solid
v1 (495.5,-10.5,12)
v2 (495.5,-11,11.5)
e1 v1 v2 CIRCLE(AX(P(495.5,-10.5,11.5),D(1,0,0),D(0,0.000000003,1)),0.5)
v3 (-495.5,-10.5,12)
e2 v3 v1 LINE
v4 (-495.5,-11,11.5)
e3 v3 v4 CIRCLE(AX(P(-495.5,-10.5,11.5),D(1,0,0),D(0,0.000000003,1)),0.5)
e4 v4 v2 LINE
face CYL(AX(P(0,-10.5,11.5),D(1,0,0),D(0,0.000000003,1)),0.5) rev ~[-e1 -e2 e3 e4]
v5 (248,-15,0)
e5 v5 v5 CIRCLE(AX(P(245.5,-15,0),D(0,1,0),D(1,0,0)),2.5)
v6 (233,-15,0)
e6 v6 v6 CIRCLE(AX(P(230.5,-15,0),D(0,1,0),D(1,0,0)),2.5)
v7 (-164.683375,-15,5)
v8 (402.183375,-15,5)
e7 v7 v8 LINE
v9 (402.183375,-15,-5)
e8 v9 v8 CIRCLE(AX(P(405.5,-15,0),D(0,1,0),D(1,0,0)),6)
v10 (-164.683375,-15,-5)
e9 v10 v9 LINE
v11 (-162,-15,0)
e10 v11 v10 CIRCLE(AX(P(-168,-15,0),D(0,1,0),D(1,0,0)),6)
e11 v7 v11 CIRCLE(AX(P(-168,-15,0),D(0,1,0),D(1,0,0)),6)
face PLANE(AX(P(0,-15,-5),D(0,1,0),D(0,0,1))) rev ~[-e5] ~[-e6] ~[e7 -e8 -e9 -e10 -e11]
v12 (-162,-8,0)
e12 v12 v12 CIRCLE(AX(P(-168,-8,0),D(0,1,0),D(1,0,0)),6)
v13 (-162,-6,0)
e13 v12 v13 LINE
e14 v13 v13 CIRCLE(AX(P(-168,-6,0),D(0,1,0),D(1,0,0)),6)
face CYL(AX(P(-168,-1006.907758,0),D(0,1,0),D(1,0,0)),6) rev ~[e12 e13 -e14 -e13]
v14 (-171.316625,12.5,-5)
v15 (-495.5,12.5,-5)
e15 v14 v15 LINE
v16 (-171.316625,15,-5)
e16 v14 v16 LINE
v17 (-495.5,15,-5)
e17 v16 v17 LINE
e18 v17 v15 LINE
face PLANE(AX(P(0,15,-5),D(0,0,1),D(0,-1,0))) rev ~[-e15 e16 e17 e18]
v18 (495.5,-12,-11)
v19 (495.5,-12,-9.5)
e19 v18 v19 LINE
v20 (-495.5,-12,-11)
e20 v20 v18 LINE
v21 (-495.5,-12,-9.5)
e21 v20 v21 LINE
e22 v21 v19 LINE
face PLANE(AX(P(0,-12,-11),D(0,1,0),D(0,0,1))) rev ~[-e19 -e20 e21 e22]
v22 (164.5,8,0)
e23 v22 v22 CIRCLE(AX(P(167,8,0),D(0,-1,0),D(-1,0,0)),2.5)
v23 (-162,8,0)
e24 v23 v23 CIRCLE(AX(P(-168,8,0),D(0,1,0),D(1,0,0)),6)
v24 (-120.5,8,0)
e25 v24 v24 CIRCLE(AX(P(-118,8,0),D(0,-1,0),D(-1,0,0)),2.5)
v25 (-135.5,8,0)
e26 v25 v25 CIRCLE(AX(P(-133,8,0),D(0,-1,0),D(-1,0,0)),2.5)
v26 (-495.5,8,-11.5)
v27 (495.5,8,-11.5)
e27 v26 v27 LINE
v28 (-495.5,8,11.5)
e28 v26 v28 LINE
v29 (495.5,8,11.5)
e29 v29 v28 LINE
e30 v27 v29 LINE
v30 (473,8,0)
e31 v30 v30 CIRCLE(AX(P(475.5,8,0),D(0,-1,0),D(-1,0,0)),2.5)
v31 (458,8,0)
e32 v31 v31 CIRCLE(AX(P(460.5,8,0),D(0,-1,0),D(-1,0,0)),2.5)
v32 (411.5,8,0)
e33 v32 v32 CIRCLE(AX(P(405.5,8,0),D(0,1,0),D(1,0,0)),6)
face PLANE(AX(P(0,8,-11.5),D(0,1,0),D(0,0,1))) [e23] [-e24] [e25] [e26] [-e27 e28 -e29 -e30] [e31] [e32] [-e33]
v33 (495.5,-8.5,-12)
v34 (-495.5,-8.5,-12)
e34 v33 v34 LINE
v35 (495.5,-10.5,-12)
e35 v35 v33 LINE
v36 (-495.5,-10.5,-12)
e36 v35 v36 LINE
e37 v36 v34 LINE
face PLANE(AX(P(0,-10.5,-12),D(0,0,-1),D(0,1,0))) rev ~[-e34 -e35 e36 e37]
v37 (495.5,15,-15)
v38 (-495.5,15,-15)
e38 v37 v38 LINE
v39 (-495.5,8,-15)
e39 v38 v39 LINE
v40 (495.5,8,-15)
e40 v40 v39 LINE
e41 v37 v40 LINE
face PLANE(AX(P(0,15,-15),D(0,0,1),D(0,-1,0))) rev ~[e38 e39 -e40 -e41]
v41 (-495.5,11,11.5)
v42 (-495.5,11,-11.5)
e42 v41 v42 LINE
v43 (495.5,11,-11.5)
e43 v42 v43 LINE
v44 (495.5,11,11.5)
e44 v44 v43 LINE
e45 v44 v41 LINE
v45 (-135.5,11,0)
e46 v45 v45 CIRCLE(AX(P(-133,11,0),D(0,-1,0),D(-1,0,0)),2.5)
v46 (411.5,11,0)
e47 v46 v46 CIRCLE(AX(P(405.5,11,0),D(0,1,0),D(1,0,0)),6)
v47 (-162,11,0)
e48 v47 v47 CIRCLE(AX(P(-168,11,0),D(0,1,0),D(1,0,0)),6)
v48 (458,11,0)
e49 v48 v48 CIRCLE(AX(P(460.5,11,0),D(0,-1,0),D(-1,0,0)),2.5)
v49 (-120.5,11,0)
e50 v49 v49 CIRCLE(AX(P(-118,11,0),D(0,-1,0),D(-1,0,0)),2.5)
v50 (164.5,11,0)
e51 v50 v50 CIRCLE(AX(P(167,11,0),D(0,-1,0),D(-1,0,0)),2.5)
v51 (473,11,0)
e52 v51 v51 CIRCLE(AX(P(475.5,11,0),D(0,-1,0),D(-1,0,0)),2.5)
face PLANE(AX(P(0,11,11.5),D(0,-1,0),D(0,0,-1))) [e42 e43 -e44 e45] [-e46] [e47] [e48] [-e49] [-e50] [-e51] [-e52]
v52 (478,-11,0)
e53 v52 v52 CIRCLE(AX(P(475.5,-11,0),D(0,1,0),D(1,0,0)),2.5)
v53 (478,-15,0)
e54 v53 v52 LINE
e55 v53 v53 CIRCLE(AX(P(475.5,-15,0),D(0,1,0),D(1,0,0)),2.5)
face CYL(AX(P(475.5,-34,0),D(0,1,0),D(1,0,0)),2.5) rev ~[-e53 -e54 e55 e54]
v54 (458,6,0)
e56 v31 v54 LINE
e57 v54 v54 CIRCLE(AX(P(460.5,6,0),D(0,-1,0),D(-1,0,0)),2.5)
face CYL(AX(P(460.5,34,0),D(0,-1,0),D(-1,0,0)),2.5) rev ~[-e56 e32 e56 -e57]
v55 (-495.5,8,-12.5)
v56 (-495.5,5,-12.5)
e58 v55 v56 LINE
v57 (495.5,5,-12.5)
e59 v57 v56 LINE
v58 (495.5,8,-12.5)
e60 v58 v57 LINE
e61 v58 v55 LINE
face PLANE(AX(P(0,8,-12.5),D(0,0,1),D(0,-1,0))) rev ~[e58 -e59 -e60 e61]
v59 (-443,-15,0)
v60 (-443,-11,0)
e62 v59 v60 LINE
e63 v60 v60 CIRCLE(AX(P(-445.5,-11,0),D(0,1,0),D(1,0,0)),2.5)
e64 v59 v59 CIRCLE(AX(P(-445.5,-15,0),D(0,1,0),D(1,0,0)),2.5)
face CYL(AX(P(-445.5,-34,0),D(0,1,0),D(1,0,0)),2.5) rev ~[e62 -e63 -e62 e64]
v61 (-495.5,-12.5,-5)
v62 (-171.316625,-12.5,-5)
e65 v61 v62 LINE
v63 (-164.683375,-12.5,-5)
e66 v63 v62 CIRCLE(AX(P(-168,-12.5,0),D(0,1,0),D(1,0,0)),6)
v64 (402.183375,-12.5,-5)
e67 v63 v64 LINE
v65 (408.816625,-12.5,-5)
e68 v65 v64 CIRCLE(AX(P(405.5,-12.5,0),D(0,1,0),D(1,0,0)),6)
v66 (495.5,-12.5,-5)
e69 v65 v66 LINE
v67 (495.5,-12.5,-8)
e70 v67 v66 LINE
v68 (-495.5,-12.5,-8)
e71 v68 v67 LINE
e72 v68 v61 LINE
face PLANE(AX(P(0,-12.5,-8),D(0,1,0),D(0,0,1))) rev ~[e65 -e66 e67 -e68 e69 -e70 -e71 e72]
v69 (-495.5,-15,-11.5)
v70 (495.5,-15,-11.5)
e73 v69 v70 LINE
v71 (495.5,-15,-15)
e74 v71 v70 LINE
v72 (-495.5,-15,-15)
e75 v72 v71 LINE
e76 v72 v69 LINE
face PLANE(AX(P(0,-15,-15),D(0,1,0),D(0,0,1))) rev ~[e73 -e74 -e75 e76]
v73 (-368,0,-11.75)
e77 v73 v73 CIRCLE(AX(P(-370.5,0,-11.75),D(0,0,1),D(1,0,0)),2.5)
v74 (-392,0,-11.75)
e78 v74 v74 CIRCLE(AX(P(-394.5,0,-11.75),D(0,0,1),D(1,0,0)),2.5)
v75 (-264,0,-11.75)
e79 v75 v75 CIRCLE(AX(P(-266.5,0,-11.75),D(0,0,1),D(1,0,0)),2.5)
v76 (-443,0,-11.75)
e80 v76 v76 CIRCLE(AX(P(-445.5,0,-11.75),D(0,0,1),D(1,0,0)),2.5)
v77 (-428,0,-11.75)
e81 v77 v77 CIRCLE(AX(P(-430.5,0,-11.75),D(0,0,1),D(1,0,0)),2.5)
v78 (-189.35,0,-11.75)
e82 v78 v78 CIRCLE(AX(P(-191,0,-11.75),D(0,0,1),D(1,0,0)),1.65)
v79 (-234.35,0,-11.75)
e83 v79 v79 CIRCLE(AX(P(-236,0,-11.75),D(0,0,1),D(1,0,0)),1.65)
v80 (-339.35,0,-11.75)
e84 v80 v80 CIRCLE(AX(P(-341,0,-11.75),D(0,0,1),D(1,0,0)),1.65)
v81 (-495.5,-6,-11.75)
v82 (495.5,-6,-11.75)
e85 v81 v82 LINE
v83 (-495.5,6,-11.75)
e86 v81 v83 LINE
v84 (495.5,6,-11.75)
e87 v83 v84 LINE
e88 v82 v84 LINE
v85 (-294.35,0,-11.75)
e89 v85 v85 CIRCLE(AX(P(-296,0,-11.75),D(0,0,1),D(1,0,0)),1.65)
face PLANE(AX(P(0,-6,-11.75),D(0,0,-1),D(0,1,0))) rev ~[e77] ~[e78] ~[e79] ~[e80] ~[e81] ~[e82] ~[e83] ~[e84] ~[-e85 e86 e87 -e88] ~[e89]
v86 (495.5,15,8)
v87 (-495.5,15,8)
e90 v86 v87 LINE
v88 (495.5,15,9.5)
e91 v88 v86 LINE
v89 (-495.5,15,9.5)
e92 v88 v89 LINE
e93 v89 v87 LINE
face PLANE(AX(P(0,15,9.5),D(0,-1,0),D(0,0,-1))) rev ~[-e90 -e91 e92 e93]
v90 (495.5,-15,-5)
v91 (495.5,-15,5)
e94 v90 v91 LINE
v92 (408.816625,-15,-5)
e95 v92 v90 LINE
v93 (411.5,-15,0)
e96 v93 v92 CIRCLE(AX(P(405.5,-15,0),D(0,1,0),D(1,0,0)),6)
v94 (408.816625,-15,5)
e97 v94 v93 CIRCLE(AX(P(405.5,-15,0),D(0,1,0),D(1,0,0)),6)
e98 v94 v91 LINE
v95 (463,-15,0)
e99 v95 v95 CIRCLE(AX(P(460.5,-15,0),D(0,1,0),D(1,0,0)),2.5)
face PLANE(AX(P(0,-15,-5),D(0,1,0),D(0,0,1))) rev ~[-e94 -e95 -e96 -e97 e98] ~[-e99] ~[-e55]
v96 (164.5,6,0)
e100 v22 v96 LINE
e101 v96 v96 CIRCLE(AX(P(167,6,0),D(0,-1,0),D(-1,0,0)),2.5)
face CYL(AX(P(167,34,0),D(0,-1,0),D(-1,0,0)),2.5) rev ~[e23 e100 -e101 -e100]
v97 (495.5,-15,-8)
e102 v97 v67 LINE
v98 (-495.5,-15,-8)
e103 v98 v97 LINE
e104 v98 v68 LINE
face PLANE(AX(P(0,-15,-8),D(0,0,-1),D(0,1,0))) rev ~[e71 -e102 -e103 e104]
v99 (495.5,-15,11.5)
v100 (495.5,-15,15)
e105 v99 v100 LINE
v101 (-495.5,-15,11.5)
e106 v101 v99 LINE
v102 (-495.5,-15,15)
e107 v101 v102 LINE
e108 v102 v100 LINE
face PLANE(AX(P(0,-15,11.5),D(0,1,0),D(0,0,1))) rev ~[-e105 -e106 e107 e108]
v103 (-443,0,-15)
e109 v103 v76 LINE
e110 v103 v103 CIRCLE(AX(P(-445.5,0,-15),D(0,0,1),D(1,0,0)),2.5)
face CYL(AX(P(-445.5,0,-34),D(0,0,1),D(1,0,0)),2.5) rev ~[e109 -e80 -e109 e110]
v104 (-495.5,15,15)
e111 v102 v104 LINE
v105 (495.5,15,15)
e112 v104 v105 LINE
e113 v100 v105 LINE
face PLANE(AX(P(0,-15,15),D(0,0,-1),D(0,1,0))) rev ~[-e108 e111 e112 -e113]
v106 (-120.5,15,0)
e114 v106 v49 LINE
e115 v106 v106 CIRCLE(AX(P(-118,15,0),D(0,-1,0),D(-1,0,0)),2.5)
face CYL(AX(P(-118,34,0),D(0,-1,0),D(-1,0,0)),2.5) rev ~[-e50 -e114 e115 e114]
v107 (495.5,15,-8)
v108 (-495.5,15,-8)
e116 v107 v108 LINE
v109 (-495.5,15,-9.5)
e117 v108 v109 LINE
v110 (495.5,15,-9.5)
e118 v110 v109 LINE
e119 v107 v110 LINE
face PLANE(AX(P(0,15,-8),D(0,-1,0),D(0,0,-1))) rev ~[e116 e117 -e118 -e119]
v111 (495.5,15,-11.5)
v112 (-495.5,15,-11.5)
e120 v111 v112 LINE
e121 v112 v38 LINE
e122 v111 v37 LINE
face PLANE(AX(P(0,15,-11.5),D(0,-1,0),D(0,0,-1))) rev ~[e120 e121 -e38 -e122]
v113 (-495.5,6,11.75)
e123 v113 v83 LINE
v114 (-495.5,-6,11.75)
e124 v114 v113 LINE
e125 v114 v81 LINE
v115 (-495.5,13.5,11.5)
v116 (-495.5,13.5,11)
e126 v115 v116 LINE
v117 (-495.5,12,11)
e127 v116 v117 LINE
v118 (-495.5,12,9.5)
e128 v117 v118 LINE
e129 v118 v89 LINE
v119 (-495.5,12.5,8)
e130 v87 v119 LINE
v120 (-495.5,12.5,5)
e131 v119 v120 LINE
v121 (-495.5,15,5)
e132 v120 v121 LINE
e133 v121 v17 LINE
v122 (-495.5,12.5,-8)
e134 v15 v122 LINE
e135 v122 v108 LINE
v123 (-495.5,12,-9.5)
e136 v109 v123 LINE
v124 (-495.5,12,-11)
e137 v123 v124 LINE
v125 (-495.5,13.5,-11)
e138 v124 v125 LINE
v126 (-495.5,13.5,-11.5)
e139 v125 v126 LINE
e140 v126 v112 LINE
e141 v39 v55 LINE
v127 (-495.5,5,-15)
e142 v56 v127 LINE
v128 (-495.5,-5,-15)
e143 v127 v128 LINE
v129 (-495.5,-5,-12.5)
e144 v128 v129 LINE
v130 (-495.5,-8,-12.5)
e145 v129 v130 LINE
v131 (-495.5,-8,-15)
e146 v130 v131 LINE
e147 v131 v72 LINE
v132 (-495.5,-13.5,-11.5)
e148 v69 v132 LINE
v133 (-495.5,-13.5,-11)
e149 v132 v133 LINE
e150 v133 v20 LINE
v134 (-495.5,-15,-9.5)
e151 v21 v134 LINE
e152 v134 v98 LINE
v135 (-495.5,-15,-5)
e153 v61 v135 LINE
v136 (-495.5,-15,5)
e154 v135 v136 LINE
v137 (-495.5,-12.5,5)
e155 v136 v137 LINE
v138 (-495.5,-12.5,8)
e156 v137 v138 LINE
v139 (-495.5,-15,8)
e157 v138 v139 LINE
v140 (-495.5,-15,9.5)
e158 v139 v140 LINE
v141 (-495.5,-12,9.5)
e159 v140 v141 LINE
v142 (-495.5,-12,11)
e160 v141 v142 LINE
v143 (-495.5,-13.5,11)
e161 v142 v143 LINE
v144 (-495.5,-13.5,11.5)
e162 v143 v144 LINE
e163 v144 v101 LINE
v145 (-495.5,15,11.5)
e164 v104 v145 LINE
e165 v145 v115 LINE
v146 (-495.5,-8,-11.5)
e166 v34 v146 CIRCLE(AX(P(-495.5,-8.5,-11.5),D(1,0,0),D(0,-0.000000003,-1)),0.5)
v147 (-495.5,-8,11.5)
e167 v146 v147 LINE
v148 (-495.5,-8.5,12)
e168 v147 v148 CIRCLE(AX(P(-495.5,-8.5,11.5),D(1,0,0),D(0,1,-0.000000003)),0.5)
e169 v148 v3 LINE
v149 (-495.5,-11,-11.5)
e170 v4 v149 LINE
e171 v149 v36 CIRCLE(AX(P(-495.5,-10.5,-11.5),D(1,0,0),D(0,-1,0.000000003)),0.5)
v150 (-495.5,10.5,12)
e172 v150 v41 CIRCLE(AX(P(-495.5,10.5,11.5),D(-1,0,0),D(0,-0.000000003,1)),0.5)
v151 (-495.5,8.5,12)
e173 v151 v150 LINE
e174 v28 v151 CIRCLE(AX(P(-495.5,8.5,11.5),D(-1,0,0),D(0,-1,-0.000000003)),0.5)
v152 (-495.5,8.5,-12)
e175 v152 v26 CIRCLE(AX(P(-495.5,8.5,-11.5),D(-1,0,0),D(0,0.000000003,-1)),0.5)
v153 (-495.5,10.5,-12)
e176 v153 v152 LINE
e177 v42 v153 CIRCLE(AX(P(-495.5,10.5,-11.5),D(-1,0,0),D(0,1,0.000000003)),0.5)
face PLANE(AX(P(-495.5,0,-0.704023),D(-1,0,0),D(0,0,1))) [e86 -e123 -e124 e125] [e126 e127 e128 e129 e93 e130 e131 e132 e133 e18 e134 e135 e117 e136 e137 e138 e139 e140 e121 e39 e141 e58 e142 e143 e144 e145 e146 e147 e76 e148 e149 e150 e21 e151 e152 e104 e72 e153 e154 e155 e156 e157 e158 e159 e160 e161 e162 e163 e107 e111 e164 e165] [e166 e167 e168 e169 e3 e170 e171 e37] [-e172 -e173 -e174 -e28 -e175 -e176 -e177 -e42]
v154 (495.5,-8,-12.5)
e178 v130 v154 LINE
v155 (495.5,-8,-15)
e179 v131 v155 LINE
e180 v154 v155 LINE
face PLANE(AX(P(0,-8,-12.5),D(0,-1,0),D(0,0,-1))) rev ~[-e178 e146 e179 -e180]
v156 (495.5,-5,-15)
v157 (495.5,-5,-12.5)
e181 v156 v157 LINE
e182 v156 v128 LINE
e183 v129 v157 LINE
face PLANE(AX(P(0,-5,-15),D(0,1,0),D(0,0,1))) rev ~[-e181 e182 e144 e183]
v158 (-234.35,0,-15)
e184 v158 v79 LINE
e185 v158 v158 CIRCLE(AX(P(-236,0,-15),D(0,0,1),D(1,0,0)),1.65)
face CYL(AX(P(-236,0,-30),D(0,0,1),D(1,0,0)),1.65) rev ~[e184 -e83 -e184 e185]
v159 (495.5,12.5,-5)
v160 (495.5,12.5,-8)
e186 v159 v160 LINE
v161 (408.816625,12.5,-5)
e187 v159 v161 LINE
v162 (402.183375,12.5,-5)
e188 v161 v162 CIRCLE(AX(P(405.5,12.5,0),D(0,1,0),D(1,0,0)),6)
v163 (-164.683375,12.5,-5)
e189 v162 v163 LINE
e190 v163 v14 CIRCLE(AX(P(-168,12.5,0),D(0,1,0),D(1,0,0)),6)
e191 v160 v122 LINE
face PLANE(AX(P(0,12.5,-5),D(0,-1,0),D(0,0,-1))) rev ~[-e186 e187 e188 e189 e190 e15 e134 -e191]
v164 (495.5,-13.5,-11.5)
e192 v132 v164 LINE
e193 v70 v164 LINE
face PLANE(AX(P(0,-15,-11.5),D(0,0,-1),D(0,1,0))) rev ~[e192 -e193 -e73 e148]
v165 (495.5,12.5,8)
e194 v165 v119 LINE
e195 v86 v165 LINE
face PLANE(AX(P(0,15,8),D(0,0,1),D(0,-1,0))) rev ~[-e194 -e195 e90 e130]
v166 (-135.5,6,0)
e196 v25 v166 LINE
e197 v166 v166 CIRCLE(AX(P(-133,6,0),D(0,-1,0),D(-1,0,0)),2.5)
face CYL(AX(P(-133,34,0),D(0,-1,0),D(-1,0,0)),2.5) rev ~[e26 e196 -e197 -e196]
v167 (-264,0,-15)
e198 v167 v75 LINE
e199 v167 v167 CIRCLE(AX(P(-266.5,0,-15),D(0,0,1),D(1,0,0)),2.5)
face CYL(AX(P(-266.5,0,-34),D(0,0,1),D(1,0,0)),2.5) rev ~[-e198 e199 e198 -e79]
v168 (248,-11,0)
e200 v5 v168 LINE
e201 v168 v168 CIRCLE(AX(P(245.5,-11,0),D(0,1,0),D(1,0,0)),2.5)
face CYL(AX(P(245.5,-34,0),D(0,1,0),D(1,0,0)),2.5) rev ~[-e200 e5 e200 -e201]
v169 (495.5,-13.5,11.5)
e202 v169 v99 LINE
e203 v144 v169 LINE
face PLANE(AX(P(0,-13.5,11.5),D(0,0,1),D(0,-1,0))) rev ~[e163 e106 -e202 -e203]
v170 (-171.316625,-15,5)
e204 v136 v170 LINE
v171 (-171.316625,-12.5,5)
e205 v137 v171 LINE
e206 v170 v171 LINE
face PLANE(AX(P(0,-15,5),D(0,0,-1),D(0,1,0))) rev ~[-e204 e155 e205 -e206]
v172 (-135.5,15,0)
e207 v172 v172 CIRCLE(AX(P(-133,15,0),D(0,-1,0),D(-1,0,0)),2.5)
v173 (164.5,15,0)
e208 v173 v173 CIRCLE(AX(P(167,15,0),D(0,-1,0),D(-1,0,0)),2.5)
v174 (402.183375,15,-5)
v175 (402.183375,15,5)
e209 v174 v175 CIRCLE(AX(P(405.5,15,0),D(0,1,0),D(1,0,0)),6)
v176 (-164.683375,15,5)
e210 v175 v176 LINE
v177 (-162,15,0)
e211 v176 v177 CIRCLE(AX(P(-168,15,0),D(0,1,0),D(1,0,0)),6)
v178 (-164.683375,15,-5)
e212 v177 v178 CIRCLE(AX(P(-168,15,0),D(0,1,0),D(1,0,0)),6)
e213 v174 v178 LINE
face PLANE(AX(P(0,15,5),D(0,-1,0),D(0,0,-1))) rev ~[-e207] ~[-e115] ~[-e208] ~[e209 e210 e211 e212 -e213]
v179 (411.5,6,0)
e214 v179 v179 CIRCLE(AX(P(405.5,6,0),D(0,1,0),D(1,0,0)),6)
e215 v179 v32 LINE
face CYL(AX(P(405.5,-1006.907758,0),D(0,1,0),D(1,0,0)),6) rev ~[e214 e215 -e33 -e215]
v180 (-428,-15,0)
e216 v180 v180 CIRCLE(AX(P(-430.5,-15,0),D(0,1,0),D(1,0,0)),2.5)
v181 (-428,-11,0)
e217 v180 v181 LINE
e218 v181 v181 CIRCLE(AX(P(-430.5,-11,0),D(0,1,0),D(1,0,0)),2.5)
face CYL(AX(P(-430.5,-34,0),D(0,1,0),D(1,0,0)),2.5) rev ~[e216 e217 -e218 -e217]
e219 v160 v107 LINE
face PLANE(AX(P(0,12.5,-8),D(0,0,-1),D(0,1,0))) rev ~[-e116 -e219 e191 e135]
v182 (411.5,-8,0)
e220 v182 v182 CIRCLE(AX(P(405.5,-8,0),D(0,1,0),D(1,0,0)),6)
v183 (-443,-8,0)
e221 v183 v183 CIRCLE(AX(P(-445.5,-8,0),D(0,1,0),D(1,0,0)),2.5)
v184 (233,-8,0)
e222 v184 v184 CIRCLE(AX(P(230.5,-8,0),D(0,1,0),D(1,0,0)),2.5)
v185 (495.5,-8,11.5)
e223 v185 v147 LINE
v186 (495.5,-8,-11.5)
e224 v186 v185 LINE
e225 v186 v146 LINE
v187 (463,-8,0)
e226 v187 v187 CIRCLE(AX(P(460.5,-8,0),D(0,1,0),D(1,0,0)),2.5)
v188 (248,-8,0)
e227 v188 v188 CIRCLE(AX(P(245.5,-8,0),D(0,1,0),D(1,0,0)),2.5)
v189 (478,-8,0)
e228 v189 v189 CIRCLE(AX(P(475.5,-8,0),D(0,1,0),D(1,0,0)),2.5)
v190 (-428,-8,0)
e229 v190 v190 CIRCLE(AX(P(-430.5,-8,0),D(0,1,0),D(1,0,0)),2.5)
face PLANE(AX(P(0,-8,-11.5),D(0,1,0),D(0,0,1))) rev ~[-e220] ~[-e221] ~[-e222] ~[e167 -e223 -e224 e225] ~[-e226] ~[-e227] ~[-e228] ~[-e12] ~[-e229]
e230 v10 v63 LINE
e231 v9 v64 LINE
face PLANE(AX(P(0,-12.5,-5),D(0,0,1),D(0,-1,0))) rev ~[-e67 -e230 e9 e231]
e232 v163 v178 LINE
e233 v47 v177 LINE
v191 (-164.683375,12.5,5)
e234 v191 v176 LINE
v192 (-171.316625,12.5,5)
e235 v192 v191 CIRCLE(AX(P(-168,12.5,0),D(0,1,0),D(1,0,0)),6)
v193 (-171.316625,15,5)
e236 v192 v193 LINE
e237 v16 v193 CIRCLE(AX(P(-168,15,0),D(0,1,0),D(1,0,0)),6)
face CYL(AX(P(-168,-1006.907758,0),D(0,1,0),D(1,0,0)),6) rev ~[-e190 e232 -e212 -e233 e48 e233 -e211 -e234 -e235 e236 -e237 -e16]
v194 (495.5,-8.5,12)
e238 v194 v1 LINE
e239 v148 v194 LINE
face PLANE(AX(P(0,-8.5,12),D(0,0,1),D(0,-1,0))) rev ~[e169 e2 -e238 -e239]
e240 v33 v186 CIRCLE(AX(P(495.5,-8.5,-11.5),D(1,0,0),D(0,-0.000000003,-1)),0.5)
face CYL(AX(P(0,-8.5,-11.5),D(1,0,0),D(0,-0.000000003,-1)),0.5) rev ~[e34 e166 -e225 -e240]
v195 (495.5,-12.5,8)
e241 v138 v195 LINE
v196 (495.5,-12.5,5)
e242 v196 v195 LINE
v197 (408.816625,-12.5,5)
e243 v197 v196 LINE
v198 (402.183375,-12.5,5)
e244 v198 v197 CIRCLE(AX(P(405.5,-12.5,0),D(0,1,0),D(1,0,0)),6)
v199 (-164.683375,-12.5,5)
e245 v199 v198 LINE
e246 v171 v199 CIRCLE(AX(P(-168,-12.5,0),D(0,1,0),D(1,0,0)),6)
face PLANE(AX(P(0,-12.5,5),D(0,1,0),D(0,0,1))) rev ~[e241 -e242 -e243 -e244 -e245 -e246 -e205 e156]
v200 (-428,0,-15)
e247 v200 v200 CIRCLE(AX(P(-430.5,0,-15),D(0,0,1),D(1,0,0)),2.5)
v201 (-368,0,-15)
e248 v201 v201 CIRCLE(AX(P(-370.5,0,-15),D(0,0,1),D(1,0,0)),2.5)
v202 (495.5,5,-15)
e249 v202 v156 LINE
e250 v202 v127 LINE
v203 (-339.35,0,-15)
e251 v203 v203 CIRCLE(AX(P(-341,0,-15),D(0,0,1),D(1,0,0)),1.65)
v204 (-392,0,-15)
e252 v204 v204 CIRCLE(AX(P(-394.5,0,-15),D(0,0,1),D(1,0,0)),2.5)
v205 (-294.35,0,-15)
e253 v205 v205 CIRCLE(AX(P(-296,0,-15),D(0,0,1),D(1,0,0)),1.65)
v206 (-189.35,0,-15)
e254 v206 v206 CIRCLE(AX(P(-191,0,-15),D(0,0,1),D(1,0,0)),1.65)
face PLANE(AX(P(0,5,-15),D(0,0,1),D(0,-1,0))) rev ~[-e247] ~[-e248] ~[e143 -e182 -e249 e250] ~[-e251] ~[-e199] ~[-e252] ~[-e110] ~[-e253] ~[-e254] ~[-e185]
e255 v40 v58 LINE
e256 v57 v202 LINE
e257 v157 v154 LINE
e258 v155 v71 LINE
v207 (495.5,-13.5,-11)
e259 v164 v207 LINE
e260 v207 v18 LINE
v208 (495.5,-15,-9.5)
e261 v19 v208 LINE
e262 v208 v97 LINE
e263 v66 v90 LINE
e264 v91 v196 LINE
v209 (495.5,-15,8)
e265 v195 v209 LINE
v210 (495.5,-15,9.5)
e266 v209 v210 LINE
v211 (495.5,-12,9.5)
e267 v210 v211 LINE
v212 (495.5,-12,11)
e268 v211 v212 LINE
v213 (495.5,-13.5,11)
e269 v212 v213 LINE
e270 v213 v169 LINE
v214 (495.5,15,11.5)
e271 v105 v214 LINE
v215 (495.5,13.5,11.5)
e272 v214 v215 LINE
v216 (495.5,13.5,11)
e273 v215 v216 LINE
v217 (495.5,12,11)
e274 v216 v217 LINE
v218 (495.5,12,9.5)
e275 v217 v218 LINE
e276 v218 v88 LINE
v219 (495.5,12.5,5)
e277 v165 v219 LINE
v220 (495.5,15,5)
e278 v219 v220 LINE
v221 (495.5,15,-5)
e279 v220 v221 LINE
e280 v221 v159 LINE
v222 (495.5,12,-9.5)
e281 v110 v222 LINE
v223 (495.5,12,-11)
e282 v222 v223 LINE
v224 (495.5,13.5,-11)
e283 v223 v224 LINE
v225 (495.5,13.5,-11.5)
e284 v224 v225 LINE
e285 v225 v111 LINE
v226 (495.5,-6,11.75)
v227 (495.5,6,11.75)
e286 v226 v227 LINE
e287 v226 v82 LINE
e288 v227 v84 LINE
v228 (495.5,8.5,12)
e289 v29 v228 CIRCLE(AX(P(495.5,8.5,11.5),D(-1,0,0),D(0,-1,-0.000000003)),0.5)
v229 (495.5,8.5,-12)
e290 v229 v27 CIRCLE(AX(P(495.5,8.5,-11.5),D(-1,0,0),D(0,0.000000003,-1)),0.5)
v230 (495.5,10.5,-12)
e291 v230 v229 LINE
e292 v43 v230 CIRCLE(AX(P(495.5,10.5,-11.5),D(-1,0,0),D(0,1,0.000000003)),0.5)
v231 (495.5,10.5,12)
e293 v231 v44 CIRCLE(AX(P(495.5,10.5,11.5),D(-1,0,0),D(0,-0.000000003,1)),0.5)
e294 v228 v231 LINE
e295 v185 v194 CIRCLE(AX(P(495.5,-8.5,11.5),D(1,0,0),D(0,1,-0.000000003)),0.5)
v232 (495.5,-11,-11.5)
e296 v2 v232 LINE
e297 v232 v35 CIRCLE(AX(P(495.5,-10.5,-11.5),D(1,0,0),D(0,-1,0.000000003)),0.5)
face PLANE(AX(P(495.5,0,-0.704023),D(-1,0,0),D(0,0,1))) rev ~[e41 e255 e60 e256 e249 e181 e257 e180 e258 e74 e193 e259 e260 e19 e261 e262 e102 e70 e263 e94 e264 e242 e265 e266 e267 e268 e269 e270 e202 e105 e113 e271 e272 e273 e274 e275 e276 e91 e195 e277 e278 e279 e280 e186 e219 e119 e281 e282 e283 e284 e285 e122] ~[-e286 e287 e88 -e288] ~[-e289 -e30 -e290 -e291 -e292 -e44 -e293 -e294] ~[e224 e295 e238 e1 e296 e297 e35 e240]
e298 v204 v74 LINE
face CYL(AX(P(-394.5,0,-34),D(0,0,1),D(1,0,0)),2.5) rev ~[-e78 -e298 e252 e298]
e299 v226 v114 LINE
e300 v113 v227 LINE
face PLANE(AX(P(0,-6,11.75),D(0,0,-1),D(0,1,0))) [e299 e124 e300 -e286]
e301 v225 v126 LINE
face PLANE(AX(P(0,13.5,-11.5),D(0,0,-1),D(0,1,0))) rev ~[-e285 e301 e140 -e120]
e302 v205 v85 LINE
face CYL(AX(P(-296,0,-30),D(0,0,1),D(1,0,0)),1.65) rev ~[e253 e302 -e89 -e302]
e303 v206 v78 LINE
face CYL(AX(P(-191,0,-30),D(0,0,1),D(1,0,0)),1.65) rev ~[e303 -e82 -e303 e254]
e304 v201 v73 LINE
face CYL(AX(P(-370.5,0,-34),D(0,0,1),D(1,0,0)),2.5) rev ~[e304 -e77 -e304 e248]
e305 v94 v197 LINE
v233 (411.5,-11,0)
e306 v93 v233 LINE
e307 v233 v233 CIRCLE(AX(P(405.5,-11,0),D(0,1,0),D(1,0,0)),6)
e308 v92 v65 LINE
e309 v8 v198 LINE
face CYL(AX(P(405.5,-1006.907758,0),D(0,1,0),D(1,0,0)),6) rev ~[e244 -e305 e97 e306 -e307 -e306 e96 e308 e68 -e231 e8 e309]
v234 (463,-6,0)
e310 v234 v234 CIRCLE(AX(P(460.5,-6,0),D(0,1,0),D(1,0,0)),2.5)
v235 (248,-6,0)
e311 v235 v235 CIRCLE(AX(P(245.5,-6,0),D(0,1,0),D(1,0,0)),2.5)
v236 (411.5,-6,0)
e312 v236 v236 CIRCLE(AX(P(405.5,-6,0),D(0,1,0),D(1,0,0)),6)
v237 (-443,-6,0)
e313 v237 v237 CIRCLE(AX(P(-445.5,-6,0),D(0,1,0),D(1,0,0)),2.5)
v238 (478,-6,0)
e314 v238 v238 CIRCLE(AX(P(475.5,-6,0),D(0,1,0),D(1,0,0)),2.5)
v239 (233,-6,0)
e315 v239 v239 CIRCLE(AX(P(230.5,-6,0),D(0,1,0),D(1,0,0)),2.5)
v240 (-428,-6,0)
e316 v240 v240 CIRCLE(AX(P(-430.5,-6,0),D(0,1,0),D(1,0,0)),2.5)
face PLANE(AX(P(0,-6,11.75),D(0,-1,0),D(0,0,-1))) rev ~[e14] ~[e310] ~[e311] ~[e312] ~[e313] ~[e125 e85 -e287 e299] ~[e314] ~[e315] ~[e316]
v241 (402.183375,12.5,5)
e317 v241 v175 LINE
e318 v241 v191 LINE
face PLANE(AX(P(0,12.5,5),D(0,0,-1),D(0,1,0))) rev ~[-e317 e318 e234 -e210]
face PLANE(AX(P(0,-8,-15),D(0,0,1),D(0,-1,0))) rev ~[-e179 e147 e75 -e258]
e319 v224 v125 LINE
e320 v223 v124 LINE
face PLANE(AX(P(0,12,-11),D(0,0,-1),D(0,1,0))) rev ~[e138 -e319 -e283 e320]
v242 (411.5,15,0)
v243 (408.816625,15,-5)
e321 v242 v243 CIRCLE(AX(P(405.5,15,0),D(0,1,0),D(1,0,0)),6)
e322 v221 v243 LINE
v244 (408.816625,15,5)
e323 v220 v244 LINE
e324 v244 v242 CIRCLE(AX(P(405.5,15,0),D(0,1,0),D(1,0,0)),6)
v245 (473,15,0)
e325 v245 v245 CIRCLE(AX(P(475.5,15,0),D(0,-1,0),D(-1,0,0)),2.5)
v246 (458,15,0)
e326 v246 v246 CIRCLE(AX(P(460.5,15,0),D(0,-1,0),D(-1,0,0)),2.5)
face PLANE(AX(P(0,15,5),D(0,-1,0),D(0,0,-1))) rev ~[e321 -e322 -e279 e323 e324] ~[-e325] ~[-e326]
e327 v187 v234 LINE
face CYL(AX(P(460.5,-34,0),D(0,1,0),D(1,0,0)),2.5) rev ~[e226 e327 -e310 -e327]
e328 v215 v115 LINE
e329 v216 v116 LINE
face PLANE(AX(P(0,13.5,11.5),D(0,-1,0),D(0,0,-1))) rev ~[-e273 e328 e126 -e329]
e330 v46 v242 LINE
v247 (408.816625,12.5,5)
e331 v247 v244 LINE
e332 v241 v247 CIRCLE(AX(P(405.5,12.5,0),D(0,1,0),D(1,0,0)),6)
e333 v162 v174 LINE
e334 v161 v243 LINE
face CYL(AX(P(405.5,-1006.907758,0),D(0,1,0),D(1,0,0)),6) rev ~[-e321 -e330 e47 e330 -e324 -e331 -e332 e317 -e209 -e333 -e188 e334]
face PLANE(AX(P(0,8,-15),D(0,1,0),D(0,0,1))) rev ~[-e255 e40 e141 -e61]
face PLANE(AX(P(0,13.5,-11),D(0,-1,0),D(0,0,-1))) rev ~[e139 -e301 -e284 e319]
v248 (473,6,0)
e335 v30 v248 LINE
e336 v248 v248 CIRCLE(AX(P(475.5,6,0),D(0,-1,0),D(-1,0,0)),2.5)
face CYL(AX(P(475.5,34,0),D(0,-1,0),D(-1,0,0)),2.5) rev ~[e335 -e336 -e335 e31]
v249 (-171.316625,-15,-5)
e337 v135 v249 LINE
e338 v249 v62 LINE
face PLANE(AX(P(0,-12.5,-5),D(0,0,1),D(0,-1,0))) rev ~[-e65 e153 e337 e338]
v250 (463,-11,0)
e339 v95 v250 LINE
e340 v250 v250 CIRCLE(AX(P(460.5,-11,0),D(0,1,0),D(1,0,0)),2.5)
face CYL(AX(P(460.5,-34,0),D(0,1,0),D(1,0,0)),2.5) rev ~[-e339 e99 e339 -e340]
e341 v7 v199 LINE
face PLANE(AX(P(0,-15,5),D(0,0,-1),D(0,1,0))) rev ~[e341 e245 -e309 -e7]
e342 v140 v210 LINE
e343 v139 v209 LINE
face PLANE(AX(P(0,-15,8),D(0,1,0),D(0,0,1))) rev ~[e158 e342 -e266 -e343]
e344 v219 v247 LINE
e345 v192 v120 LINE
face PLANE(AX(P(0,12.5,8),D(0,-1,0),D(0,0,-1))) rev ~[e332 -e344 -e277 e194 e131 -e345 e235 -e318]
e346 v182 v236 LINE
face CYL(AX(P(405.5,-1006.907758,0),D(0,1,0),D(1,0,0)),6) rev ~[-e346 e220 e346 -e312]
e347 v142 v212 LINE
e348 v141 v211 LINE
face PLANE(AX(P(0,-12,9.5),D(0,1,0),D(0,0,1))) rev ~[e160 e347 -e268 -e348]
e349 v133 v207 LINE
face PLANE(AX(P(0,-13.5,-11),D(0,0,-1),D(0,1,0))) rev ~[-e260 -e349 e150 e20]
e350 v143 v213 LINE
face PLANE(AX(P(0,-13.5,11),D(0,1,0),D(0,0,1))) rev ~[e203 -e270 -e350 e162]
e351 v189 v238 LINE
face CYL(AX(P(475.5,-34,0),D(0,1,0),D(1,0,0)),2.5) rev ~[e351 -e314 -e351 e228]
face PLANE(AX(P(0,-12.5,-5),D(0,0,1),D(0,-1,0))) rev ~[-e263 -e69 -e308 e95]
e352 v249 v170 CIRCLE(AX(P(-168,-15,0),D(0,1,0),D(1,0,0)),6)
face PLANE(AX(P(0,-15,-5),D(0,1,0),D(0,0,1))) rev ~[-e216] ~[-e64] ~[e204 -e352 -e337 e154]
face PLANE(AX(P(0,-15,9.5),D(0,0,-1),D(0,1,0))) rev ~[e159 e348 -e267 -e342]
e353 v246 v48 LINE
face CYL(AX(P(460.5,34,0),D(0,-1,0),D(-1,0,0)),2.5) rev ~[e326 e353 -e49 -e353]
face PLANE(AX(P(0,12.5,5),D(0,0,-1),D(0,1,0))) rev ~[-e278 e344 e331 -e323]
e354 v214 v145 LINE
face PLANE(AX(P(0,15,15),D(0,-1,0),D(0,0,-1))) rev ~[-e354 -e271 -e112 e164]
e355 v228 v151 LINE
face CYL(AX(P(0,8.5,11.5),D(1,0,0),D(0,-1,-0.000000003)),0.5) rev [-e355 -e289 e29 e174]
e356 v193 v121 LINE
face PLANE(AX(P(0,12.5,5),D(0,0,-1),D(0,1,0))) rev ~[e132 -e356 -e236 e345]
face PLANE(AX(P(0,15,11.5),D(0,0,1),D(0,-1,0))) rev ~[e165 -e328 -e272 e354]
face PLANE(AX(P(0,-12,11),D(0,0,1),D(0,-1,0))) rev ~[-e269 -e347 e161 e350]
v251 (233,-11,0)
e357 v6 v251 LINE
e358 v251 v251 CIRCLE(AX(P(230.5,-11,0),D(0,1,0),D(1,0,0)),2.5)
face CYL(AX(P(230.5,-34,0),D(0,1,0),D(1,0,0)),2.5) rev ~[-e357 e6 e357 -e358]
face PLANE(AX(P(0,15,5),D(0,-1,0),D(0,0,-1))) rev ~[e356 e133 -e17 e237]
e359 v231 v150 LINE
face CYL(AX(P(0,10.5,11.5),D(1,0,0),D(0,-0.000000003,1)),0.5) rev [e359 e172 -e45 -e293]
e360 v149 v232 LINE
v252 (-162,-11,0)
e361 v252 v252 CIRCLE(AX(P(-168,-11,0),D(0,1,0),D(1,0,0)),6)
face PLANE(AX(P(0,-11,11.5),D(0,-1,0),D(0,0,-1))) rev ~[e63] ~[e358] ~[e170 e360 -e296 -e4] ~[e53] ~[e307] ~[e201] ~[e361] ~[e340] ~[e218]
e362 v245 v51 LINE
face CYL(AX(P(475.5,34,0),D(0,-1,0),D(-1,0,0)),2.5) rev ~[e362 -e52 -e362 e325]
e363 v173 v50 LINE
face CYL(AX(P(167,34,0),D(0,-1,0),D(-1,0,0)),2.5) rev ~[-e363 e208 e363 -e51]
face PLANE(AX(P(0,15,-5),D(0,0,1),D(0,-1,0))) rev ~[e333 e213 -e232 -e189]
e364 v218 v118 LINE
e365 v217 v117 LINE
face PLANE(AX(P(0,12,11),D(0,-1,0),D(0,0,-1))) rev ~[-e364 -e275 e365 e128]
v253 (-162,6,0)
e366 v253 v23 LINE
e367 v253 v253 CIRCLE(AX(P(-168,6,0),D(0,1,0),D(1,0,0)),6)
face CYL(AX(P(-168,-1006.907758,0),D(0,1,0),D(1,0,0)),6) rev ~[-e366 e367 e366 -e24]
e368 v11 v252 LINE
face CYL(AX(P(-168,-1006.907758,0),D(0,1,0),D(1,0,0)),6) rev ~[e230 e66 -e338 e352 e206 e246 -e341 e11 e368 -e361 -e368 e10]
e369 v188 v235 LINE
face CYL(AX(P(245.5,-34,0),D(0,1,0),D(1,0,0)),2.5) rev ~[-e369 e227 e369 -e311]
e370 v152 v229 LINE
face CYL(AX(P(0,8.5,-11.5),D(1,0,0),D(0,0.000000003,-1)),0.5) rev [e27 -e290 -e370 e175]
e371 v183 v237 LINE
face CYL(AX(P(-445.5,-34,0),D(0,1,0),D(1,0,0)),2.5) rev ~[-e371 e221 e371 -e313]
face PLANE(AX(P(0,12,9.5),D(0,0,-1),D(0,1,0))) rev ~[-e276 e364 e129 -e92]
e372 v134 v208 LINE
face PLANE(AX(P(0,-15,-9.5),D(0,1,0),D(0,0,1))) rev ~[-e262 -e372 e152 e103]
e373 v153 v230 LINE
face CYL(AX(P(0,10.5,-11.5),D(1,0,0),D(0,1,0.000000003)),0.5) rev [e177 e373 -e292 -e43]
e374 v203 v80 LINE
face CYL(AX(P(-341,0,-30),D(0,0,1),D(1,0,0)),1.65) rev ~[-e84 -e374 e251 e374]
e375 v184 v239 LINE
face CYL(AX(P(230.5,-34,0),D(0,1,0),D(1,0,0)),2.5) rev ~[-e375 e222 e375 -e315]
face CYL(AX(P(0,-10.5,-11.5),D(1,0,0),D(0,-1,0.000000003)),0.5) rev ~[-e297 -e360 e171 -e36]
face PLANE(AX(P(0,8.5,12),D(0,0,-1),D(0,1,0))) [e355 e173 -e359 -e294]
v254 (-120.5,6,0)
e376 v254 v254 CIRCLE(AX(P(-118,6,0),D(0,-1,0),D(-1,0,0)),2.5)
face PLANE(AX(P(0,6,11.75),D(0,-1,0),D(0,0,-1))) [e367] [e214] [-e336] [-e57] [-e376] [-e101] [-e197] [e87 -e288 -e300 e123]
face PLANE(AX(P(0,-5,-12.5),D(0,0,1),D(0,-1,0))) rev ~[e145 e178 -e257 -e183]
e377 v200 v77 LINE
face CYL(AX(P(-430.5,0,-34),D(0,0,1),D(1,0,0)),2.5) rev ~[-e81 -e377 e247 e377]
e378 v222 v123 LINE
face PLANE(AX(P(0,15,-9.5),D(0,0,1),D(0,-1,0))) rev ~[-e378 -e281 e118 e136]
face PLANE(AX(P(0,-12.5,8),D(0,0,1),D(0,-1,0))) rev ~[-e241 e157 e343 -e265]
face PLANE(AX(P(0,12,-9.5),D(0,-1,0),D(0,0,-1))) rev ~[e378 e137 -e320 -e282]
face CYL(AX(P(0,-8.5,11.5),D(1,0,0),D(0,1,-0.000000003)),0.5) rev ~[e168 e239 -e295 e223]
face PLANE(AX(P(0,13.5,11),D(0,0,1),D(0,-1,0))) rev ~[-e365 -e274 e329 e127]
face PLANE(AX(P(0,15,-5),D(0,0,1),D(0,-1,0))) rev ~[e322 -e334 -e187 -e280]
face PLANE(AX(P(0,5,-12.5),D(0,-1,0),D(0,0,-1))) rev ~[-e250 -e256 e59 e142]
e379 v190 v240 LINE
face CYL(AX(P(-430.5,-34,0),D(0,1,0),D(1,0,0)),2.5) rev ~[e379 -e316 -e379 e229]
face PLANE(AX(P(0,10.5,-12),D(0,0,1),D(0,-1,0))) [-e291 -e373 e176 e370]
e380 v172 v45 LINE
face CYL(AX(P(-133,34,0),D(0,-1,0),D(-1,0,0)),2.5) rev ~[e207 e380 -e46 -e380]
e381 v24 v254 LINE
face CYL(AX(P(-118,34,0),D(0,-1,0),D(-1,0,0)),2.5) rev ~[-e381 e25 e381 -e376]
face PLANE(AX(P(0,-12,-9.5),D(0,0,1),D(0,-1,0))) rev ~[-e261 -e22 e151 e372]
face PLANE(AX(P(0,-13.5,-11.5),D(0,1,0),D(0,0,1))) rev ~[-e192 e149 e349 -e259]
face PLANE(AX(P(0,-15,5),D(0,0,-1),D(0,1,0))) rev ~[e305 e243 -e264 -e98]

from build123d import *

# Parameters (mm, degrees)
SKETCH_1_W              = 23.5
SKETCH_1_H              = 12
EXTRUDE_1_DEPTH         = 495.5
HOLE_WIZARD_M6_1_D      = 5
HOLE_WIZARD_M6_1_DEPTH  = 19
HOLE_WIZARD_M6_1_TIP    = 1.502151548
HOLE_WIZARD_M6_2_D      = 5
HOLE_WIZARD_M6_2_DEPTH  = 19
HOLE_WIZARD_M6_2_TIP    = 1.502151548
HOLE_WIZARD_M6_3_D      = 5
HOLE_WIZARD_M6_3_DEPTH  = 19
HOLE_WIZARD_M6_3_TIP    = 1.502151548
HOLE_WIZARD_M4_1_D      = 3.3
HOLE_WIZARD_M4_1_DEPTH  = 15
HOLE_WIZARD_M4_1_TIP    = 0.991420021
HOLE_WIZARD_12_0_12_1_D = 12


with BuildPart() as part:
    # 草图1 → 凸台-拉伸1 (new, symmetric)
    with BuildSketch(Plane(origin=(0, 0, 0), x_dir=(0, 0, -1), z_dir=(1, 0, 0))):
        Polygon((-15, 15), (-11.5, 15), (-11.5, 13.5), (-11, 13.5), (-11, 12), (-9.5, 12), (-9.5, 15), (-8, 15), (-8, 12.5), (-5, 12.5), (-5, 15), (5, 15), (5, 12.5), (8, 12.5), (8, 15), (9.5, 15), (9.5, 12), (11, 12), (11, 13.5), (11.5, 13.5), (11.5, 15), (15, 15), (15, 8), (12.5, 8), (12.5, 5), (15, 5), (15, -5), (12.5, -5), (12.5, -8), (15, -8), (15, -15), (11.5, -15), (11.5, -13.5), (11, -13.5), (11, -12), (9.5, -12), (9.5, -15), (8, -15), (8, -12.5), (5, -12.5), (5, -15), (-5, -15), (-5, -12.5), (-8, -12.5), (-8, -15), (-9.5, -15), (-9.5, -12), (-11, -12), (-11, -13.5), (-11.5, -13.5), (-11.5, -15), (-15, -15), align=None)
        with BuildLine():
            Line((12, -10.5), (12, -8.5))
            ThreePointArc((12, -8.5), (11.853553391, -8.146446609), (11.5, -8))
            Line((11.5, -8), (-11.5, -8))
            ThreePointArc((-11.5, -8), (-11.853553391, -8.146446609), (-12, -8.5))
            Line((-12, -8.5), (-12, -10.5))
            ThreePointArc((-12, -10.5), (-11.853553391, -10.853553391), (-11.5, -11))
            Line((-11.5, -11), (11.5, -11))
            ThreePointArc((11.5, -11), (11.853553391, -10.853553391), (12, -10.5))
        make_face(mode=Mode.SUBTRACT)
        with BuildLine():
            Line((-11.5, 11), (11.5, 11))
            ThreePointArc((11.5, 11), (11.853553391, 10.853553391), (12, 10.5))
            Line((12, 10.5), (12, 8.5))
            ThreePointArc((12, 8.5), (11.853553391, 8.146446609), (11.5, 8))
            Line((11.5, 8), (-11.5, 8))
            ThreePointArc((-11.5, 8), (-11.853553391, 8.146446609), (-12, 8.5))
            Line((-12, 8.5), (-12, 10.5))
            ThreePointArc((-12, 10.5), (-11.853553391, 10.853553391), (-11.5, 11))
        make_face(mode=Mode.SUBTRACT)
        Rectangle(SKETCH_1_W, SKETCH_1_H, mode=Mode.SUBTRACT)
    extrude(amount=EXTRUDE_1_DEPTH, both=True)

    # M6 螺纹孔1
    with Locations(Plane(origin=(0, 0, -15), x_dir=(-1, 0, 0), z_dir=(0, 0, -1))):
        with Locations((445.5, 0), (430.5, 0), (370.5, 0), (266.5, 0), (394.5, 0)):
            Hole(HOLE_WIZARD_M6_1_D / 2, depth=HOLE_WIZARD_M6_1_DEPTH)
            with Locations((0, 0, -(HOLE_WIZARD_M6_1_DEPTH + HOLE_WIZARD_M6_1_TIP / 2))):  # 118° drill point
                Cone(0, HOLE_WIZARD_M6_1_D / 2, HOLE_WIZARD_M6_1_TIP, mode=Mode.SUBTRACT)

    # M6 螺纹孔2
    with Locations(Plane(origin=(0, 15, 0), x_dir=(1, 0, 0), z_dir=(0, 1, 0))):
        with Locations((-133, 0), (-118, 0), (460.5, 0), (475.5, 0), (167, 0)):
            Hole(HOLE_WIZARD_M6_2_D / 2, depth=HOLE_WIZARD_M6_2_DEPTH)
            with Locations((0, 0, -(HOLE_WIZARD_M6_2_DEPTH + HOLE_WIZARD_M6_2_TIP / 2))):  # 118° drill point
                Cone(0, HOLE_WIZARD_M6_2_D / 2, HOLE_WIZARD_M6_2_TIP, mode=Mode.SUBTRACT)

    # M6 螺纹孔3
    with Locations(Plane(origin=(0, -15, 0), x_dir=(-1, 0, 0), z_dir=(0, -1, 0))):
        with Locations((445.5, 0), (430.5, 0), (-230.5, 0), (-245.5, 0), (-460.5, 0), (-475.5, 0)):
            Hole(HOLE_WIZARD_M6_3_D / 2, depth=HOLE_WIZARD_M6_3_DEPTH)
            with Locations((0, 0, -(HOLE_WIZARD_M6_3_DEPTH + HOLE_WIZARD_M6_3_TIP / 2))):  # 118° drill point
                Cone(0, HOLE_WIZARD_M6_3_D / 2, HOLE_WIZARD_M6_3_TIP, mode=Mode.SUBTRACT)

    # M4 螺纹孔1
    with Locations(Plane(origin=(0, 0, -15), x_dir=(-1, 0, 0), z_dir=(0, 0, -1))):
        with Locations((191, 0), (236, 0), (341, 0), (296, 0)):
            Hole(HOLE_WIZARD_M4_1_D / 2, depth=HOLE_WIZARD_M4_1_DEPTH)
            with Locations((0, 0, -(HOLE_WIZARD_M4_1_DEPTH + HOLE_WIZARD_M4_1_TIP / 2))):  # 118° drill point
                Cone(0, HOLE_WIZARD_M4_1_D / 2, HOLE_WIZARD_M4_1_TIP, mode=Mode.SUBTRACT)

    # Ø12.0 (12) 直径孔1 (through all)
    with Locations(Plane(origin=(0, -15, 0), x_dir=(-1, 0, 0), z_dir=(0, -1, 0))):
        with Locations((168, 0), (-405.5, 0)):
            Hole(HOLE_WIZARD_12_0_12_1_D / 2)


solid = part.part
